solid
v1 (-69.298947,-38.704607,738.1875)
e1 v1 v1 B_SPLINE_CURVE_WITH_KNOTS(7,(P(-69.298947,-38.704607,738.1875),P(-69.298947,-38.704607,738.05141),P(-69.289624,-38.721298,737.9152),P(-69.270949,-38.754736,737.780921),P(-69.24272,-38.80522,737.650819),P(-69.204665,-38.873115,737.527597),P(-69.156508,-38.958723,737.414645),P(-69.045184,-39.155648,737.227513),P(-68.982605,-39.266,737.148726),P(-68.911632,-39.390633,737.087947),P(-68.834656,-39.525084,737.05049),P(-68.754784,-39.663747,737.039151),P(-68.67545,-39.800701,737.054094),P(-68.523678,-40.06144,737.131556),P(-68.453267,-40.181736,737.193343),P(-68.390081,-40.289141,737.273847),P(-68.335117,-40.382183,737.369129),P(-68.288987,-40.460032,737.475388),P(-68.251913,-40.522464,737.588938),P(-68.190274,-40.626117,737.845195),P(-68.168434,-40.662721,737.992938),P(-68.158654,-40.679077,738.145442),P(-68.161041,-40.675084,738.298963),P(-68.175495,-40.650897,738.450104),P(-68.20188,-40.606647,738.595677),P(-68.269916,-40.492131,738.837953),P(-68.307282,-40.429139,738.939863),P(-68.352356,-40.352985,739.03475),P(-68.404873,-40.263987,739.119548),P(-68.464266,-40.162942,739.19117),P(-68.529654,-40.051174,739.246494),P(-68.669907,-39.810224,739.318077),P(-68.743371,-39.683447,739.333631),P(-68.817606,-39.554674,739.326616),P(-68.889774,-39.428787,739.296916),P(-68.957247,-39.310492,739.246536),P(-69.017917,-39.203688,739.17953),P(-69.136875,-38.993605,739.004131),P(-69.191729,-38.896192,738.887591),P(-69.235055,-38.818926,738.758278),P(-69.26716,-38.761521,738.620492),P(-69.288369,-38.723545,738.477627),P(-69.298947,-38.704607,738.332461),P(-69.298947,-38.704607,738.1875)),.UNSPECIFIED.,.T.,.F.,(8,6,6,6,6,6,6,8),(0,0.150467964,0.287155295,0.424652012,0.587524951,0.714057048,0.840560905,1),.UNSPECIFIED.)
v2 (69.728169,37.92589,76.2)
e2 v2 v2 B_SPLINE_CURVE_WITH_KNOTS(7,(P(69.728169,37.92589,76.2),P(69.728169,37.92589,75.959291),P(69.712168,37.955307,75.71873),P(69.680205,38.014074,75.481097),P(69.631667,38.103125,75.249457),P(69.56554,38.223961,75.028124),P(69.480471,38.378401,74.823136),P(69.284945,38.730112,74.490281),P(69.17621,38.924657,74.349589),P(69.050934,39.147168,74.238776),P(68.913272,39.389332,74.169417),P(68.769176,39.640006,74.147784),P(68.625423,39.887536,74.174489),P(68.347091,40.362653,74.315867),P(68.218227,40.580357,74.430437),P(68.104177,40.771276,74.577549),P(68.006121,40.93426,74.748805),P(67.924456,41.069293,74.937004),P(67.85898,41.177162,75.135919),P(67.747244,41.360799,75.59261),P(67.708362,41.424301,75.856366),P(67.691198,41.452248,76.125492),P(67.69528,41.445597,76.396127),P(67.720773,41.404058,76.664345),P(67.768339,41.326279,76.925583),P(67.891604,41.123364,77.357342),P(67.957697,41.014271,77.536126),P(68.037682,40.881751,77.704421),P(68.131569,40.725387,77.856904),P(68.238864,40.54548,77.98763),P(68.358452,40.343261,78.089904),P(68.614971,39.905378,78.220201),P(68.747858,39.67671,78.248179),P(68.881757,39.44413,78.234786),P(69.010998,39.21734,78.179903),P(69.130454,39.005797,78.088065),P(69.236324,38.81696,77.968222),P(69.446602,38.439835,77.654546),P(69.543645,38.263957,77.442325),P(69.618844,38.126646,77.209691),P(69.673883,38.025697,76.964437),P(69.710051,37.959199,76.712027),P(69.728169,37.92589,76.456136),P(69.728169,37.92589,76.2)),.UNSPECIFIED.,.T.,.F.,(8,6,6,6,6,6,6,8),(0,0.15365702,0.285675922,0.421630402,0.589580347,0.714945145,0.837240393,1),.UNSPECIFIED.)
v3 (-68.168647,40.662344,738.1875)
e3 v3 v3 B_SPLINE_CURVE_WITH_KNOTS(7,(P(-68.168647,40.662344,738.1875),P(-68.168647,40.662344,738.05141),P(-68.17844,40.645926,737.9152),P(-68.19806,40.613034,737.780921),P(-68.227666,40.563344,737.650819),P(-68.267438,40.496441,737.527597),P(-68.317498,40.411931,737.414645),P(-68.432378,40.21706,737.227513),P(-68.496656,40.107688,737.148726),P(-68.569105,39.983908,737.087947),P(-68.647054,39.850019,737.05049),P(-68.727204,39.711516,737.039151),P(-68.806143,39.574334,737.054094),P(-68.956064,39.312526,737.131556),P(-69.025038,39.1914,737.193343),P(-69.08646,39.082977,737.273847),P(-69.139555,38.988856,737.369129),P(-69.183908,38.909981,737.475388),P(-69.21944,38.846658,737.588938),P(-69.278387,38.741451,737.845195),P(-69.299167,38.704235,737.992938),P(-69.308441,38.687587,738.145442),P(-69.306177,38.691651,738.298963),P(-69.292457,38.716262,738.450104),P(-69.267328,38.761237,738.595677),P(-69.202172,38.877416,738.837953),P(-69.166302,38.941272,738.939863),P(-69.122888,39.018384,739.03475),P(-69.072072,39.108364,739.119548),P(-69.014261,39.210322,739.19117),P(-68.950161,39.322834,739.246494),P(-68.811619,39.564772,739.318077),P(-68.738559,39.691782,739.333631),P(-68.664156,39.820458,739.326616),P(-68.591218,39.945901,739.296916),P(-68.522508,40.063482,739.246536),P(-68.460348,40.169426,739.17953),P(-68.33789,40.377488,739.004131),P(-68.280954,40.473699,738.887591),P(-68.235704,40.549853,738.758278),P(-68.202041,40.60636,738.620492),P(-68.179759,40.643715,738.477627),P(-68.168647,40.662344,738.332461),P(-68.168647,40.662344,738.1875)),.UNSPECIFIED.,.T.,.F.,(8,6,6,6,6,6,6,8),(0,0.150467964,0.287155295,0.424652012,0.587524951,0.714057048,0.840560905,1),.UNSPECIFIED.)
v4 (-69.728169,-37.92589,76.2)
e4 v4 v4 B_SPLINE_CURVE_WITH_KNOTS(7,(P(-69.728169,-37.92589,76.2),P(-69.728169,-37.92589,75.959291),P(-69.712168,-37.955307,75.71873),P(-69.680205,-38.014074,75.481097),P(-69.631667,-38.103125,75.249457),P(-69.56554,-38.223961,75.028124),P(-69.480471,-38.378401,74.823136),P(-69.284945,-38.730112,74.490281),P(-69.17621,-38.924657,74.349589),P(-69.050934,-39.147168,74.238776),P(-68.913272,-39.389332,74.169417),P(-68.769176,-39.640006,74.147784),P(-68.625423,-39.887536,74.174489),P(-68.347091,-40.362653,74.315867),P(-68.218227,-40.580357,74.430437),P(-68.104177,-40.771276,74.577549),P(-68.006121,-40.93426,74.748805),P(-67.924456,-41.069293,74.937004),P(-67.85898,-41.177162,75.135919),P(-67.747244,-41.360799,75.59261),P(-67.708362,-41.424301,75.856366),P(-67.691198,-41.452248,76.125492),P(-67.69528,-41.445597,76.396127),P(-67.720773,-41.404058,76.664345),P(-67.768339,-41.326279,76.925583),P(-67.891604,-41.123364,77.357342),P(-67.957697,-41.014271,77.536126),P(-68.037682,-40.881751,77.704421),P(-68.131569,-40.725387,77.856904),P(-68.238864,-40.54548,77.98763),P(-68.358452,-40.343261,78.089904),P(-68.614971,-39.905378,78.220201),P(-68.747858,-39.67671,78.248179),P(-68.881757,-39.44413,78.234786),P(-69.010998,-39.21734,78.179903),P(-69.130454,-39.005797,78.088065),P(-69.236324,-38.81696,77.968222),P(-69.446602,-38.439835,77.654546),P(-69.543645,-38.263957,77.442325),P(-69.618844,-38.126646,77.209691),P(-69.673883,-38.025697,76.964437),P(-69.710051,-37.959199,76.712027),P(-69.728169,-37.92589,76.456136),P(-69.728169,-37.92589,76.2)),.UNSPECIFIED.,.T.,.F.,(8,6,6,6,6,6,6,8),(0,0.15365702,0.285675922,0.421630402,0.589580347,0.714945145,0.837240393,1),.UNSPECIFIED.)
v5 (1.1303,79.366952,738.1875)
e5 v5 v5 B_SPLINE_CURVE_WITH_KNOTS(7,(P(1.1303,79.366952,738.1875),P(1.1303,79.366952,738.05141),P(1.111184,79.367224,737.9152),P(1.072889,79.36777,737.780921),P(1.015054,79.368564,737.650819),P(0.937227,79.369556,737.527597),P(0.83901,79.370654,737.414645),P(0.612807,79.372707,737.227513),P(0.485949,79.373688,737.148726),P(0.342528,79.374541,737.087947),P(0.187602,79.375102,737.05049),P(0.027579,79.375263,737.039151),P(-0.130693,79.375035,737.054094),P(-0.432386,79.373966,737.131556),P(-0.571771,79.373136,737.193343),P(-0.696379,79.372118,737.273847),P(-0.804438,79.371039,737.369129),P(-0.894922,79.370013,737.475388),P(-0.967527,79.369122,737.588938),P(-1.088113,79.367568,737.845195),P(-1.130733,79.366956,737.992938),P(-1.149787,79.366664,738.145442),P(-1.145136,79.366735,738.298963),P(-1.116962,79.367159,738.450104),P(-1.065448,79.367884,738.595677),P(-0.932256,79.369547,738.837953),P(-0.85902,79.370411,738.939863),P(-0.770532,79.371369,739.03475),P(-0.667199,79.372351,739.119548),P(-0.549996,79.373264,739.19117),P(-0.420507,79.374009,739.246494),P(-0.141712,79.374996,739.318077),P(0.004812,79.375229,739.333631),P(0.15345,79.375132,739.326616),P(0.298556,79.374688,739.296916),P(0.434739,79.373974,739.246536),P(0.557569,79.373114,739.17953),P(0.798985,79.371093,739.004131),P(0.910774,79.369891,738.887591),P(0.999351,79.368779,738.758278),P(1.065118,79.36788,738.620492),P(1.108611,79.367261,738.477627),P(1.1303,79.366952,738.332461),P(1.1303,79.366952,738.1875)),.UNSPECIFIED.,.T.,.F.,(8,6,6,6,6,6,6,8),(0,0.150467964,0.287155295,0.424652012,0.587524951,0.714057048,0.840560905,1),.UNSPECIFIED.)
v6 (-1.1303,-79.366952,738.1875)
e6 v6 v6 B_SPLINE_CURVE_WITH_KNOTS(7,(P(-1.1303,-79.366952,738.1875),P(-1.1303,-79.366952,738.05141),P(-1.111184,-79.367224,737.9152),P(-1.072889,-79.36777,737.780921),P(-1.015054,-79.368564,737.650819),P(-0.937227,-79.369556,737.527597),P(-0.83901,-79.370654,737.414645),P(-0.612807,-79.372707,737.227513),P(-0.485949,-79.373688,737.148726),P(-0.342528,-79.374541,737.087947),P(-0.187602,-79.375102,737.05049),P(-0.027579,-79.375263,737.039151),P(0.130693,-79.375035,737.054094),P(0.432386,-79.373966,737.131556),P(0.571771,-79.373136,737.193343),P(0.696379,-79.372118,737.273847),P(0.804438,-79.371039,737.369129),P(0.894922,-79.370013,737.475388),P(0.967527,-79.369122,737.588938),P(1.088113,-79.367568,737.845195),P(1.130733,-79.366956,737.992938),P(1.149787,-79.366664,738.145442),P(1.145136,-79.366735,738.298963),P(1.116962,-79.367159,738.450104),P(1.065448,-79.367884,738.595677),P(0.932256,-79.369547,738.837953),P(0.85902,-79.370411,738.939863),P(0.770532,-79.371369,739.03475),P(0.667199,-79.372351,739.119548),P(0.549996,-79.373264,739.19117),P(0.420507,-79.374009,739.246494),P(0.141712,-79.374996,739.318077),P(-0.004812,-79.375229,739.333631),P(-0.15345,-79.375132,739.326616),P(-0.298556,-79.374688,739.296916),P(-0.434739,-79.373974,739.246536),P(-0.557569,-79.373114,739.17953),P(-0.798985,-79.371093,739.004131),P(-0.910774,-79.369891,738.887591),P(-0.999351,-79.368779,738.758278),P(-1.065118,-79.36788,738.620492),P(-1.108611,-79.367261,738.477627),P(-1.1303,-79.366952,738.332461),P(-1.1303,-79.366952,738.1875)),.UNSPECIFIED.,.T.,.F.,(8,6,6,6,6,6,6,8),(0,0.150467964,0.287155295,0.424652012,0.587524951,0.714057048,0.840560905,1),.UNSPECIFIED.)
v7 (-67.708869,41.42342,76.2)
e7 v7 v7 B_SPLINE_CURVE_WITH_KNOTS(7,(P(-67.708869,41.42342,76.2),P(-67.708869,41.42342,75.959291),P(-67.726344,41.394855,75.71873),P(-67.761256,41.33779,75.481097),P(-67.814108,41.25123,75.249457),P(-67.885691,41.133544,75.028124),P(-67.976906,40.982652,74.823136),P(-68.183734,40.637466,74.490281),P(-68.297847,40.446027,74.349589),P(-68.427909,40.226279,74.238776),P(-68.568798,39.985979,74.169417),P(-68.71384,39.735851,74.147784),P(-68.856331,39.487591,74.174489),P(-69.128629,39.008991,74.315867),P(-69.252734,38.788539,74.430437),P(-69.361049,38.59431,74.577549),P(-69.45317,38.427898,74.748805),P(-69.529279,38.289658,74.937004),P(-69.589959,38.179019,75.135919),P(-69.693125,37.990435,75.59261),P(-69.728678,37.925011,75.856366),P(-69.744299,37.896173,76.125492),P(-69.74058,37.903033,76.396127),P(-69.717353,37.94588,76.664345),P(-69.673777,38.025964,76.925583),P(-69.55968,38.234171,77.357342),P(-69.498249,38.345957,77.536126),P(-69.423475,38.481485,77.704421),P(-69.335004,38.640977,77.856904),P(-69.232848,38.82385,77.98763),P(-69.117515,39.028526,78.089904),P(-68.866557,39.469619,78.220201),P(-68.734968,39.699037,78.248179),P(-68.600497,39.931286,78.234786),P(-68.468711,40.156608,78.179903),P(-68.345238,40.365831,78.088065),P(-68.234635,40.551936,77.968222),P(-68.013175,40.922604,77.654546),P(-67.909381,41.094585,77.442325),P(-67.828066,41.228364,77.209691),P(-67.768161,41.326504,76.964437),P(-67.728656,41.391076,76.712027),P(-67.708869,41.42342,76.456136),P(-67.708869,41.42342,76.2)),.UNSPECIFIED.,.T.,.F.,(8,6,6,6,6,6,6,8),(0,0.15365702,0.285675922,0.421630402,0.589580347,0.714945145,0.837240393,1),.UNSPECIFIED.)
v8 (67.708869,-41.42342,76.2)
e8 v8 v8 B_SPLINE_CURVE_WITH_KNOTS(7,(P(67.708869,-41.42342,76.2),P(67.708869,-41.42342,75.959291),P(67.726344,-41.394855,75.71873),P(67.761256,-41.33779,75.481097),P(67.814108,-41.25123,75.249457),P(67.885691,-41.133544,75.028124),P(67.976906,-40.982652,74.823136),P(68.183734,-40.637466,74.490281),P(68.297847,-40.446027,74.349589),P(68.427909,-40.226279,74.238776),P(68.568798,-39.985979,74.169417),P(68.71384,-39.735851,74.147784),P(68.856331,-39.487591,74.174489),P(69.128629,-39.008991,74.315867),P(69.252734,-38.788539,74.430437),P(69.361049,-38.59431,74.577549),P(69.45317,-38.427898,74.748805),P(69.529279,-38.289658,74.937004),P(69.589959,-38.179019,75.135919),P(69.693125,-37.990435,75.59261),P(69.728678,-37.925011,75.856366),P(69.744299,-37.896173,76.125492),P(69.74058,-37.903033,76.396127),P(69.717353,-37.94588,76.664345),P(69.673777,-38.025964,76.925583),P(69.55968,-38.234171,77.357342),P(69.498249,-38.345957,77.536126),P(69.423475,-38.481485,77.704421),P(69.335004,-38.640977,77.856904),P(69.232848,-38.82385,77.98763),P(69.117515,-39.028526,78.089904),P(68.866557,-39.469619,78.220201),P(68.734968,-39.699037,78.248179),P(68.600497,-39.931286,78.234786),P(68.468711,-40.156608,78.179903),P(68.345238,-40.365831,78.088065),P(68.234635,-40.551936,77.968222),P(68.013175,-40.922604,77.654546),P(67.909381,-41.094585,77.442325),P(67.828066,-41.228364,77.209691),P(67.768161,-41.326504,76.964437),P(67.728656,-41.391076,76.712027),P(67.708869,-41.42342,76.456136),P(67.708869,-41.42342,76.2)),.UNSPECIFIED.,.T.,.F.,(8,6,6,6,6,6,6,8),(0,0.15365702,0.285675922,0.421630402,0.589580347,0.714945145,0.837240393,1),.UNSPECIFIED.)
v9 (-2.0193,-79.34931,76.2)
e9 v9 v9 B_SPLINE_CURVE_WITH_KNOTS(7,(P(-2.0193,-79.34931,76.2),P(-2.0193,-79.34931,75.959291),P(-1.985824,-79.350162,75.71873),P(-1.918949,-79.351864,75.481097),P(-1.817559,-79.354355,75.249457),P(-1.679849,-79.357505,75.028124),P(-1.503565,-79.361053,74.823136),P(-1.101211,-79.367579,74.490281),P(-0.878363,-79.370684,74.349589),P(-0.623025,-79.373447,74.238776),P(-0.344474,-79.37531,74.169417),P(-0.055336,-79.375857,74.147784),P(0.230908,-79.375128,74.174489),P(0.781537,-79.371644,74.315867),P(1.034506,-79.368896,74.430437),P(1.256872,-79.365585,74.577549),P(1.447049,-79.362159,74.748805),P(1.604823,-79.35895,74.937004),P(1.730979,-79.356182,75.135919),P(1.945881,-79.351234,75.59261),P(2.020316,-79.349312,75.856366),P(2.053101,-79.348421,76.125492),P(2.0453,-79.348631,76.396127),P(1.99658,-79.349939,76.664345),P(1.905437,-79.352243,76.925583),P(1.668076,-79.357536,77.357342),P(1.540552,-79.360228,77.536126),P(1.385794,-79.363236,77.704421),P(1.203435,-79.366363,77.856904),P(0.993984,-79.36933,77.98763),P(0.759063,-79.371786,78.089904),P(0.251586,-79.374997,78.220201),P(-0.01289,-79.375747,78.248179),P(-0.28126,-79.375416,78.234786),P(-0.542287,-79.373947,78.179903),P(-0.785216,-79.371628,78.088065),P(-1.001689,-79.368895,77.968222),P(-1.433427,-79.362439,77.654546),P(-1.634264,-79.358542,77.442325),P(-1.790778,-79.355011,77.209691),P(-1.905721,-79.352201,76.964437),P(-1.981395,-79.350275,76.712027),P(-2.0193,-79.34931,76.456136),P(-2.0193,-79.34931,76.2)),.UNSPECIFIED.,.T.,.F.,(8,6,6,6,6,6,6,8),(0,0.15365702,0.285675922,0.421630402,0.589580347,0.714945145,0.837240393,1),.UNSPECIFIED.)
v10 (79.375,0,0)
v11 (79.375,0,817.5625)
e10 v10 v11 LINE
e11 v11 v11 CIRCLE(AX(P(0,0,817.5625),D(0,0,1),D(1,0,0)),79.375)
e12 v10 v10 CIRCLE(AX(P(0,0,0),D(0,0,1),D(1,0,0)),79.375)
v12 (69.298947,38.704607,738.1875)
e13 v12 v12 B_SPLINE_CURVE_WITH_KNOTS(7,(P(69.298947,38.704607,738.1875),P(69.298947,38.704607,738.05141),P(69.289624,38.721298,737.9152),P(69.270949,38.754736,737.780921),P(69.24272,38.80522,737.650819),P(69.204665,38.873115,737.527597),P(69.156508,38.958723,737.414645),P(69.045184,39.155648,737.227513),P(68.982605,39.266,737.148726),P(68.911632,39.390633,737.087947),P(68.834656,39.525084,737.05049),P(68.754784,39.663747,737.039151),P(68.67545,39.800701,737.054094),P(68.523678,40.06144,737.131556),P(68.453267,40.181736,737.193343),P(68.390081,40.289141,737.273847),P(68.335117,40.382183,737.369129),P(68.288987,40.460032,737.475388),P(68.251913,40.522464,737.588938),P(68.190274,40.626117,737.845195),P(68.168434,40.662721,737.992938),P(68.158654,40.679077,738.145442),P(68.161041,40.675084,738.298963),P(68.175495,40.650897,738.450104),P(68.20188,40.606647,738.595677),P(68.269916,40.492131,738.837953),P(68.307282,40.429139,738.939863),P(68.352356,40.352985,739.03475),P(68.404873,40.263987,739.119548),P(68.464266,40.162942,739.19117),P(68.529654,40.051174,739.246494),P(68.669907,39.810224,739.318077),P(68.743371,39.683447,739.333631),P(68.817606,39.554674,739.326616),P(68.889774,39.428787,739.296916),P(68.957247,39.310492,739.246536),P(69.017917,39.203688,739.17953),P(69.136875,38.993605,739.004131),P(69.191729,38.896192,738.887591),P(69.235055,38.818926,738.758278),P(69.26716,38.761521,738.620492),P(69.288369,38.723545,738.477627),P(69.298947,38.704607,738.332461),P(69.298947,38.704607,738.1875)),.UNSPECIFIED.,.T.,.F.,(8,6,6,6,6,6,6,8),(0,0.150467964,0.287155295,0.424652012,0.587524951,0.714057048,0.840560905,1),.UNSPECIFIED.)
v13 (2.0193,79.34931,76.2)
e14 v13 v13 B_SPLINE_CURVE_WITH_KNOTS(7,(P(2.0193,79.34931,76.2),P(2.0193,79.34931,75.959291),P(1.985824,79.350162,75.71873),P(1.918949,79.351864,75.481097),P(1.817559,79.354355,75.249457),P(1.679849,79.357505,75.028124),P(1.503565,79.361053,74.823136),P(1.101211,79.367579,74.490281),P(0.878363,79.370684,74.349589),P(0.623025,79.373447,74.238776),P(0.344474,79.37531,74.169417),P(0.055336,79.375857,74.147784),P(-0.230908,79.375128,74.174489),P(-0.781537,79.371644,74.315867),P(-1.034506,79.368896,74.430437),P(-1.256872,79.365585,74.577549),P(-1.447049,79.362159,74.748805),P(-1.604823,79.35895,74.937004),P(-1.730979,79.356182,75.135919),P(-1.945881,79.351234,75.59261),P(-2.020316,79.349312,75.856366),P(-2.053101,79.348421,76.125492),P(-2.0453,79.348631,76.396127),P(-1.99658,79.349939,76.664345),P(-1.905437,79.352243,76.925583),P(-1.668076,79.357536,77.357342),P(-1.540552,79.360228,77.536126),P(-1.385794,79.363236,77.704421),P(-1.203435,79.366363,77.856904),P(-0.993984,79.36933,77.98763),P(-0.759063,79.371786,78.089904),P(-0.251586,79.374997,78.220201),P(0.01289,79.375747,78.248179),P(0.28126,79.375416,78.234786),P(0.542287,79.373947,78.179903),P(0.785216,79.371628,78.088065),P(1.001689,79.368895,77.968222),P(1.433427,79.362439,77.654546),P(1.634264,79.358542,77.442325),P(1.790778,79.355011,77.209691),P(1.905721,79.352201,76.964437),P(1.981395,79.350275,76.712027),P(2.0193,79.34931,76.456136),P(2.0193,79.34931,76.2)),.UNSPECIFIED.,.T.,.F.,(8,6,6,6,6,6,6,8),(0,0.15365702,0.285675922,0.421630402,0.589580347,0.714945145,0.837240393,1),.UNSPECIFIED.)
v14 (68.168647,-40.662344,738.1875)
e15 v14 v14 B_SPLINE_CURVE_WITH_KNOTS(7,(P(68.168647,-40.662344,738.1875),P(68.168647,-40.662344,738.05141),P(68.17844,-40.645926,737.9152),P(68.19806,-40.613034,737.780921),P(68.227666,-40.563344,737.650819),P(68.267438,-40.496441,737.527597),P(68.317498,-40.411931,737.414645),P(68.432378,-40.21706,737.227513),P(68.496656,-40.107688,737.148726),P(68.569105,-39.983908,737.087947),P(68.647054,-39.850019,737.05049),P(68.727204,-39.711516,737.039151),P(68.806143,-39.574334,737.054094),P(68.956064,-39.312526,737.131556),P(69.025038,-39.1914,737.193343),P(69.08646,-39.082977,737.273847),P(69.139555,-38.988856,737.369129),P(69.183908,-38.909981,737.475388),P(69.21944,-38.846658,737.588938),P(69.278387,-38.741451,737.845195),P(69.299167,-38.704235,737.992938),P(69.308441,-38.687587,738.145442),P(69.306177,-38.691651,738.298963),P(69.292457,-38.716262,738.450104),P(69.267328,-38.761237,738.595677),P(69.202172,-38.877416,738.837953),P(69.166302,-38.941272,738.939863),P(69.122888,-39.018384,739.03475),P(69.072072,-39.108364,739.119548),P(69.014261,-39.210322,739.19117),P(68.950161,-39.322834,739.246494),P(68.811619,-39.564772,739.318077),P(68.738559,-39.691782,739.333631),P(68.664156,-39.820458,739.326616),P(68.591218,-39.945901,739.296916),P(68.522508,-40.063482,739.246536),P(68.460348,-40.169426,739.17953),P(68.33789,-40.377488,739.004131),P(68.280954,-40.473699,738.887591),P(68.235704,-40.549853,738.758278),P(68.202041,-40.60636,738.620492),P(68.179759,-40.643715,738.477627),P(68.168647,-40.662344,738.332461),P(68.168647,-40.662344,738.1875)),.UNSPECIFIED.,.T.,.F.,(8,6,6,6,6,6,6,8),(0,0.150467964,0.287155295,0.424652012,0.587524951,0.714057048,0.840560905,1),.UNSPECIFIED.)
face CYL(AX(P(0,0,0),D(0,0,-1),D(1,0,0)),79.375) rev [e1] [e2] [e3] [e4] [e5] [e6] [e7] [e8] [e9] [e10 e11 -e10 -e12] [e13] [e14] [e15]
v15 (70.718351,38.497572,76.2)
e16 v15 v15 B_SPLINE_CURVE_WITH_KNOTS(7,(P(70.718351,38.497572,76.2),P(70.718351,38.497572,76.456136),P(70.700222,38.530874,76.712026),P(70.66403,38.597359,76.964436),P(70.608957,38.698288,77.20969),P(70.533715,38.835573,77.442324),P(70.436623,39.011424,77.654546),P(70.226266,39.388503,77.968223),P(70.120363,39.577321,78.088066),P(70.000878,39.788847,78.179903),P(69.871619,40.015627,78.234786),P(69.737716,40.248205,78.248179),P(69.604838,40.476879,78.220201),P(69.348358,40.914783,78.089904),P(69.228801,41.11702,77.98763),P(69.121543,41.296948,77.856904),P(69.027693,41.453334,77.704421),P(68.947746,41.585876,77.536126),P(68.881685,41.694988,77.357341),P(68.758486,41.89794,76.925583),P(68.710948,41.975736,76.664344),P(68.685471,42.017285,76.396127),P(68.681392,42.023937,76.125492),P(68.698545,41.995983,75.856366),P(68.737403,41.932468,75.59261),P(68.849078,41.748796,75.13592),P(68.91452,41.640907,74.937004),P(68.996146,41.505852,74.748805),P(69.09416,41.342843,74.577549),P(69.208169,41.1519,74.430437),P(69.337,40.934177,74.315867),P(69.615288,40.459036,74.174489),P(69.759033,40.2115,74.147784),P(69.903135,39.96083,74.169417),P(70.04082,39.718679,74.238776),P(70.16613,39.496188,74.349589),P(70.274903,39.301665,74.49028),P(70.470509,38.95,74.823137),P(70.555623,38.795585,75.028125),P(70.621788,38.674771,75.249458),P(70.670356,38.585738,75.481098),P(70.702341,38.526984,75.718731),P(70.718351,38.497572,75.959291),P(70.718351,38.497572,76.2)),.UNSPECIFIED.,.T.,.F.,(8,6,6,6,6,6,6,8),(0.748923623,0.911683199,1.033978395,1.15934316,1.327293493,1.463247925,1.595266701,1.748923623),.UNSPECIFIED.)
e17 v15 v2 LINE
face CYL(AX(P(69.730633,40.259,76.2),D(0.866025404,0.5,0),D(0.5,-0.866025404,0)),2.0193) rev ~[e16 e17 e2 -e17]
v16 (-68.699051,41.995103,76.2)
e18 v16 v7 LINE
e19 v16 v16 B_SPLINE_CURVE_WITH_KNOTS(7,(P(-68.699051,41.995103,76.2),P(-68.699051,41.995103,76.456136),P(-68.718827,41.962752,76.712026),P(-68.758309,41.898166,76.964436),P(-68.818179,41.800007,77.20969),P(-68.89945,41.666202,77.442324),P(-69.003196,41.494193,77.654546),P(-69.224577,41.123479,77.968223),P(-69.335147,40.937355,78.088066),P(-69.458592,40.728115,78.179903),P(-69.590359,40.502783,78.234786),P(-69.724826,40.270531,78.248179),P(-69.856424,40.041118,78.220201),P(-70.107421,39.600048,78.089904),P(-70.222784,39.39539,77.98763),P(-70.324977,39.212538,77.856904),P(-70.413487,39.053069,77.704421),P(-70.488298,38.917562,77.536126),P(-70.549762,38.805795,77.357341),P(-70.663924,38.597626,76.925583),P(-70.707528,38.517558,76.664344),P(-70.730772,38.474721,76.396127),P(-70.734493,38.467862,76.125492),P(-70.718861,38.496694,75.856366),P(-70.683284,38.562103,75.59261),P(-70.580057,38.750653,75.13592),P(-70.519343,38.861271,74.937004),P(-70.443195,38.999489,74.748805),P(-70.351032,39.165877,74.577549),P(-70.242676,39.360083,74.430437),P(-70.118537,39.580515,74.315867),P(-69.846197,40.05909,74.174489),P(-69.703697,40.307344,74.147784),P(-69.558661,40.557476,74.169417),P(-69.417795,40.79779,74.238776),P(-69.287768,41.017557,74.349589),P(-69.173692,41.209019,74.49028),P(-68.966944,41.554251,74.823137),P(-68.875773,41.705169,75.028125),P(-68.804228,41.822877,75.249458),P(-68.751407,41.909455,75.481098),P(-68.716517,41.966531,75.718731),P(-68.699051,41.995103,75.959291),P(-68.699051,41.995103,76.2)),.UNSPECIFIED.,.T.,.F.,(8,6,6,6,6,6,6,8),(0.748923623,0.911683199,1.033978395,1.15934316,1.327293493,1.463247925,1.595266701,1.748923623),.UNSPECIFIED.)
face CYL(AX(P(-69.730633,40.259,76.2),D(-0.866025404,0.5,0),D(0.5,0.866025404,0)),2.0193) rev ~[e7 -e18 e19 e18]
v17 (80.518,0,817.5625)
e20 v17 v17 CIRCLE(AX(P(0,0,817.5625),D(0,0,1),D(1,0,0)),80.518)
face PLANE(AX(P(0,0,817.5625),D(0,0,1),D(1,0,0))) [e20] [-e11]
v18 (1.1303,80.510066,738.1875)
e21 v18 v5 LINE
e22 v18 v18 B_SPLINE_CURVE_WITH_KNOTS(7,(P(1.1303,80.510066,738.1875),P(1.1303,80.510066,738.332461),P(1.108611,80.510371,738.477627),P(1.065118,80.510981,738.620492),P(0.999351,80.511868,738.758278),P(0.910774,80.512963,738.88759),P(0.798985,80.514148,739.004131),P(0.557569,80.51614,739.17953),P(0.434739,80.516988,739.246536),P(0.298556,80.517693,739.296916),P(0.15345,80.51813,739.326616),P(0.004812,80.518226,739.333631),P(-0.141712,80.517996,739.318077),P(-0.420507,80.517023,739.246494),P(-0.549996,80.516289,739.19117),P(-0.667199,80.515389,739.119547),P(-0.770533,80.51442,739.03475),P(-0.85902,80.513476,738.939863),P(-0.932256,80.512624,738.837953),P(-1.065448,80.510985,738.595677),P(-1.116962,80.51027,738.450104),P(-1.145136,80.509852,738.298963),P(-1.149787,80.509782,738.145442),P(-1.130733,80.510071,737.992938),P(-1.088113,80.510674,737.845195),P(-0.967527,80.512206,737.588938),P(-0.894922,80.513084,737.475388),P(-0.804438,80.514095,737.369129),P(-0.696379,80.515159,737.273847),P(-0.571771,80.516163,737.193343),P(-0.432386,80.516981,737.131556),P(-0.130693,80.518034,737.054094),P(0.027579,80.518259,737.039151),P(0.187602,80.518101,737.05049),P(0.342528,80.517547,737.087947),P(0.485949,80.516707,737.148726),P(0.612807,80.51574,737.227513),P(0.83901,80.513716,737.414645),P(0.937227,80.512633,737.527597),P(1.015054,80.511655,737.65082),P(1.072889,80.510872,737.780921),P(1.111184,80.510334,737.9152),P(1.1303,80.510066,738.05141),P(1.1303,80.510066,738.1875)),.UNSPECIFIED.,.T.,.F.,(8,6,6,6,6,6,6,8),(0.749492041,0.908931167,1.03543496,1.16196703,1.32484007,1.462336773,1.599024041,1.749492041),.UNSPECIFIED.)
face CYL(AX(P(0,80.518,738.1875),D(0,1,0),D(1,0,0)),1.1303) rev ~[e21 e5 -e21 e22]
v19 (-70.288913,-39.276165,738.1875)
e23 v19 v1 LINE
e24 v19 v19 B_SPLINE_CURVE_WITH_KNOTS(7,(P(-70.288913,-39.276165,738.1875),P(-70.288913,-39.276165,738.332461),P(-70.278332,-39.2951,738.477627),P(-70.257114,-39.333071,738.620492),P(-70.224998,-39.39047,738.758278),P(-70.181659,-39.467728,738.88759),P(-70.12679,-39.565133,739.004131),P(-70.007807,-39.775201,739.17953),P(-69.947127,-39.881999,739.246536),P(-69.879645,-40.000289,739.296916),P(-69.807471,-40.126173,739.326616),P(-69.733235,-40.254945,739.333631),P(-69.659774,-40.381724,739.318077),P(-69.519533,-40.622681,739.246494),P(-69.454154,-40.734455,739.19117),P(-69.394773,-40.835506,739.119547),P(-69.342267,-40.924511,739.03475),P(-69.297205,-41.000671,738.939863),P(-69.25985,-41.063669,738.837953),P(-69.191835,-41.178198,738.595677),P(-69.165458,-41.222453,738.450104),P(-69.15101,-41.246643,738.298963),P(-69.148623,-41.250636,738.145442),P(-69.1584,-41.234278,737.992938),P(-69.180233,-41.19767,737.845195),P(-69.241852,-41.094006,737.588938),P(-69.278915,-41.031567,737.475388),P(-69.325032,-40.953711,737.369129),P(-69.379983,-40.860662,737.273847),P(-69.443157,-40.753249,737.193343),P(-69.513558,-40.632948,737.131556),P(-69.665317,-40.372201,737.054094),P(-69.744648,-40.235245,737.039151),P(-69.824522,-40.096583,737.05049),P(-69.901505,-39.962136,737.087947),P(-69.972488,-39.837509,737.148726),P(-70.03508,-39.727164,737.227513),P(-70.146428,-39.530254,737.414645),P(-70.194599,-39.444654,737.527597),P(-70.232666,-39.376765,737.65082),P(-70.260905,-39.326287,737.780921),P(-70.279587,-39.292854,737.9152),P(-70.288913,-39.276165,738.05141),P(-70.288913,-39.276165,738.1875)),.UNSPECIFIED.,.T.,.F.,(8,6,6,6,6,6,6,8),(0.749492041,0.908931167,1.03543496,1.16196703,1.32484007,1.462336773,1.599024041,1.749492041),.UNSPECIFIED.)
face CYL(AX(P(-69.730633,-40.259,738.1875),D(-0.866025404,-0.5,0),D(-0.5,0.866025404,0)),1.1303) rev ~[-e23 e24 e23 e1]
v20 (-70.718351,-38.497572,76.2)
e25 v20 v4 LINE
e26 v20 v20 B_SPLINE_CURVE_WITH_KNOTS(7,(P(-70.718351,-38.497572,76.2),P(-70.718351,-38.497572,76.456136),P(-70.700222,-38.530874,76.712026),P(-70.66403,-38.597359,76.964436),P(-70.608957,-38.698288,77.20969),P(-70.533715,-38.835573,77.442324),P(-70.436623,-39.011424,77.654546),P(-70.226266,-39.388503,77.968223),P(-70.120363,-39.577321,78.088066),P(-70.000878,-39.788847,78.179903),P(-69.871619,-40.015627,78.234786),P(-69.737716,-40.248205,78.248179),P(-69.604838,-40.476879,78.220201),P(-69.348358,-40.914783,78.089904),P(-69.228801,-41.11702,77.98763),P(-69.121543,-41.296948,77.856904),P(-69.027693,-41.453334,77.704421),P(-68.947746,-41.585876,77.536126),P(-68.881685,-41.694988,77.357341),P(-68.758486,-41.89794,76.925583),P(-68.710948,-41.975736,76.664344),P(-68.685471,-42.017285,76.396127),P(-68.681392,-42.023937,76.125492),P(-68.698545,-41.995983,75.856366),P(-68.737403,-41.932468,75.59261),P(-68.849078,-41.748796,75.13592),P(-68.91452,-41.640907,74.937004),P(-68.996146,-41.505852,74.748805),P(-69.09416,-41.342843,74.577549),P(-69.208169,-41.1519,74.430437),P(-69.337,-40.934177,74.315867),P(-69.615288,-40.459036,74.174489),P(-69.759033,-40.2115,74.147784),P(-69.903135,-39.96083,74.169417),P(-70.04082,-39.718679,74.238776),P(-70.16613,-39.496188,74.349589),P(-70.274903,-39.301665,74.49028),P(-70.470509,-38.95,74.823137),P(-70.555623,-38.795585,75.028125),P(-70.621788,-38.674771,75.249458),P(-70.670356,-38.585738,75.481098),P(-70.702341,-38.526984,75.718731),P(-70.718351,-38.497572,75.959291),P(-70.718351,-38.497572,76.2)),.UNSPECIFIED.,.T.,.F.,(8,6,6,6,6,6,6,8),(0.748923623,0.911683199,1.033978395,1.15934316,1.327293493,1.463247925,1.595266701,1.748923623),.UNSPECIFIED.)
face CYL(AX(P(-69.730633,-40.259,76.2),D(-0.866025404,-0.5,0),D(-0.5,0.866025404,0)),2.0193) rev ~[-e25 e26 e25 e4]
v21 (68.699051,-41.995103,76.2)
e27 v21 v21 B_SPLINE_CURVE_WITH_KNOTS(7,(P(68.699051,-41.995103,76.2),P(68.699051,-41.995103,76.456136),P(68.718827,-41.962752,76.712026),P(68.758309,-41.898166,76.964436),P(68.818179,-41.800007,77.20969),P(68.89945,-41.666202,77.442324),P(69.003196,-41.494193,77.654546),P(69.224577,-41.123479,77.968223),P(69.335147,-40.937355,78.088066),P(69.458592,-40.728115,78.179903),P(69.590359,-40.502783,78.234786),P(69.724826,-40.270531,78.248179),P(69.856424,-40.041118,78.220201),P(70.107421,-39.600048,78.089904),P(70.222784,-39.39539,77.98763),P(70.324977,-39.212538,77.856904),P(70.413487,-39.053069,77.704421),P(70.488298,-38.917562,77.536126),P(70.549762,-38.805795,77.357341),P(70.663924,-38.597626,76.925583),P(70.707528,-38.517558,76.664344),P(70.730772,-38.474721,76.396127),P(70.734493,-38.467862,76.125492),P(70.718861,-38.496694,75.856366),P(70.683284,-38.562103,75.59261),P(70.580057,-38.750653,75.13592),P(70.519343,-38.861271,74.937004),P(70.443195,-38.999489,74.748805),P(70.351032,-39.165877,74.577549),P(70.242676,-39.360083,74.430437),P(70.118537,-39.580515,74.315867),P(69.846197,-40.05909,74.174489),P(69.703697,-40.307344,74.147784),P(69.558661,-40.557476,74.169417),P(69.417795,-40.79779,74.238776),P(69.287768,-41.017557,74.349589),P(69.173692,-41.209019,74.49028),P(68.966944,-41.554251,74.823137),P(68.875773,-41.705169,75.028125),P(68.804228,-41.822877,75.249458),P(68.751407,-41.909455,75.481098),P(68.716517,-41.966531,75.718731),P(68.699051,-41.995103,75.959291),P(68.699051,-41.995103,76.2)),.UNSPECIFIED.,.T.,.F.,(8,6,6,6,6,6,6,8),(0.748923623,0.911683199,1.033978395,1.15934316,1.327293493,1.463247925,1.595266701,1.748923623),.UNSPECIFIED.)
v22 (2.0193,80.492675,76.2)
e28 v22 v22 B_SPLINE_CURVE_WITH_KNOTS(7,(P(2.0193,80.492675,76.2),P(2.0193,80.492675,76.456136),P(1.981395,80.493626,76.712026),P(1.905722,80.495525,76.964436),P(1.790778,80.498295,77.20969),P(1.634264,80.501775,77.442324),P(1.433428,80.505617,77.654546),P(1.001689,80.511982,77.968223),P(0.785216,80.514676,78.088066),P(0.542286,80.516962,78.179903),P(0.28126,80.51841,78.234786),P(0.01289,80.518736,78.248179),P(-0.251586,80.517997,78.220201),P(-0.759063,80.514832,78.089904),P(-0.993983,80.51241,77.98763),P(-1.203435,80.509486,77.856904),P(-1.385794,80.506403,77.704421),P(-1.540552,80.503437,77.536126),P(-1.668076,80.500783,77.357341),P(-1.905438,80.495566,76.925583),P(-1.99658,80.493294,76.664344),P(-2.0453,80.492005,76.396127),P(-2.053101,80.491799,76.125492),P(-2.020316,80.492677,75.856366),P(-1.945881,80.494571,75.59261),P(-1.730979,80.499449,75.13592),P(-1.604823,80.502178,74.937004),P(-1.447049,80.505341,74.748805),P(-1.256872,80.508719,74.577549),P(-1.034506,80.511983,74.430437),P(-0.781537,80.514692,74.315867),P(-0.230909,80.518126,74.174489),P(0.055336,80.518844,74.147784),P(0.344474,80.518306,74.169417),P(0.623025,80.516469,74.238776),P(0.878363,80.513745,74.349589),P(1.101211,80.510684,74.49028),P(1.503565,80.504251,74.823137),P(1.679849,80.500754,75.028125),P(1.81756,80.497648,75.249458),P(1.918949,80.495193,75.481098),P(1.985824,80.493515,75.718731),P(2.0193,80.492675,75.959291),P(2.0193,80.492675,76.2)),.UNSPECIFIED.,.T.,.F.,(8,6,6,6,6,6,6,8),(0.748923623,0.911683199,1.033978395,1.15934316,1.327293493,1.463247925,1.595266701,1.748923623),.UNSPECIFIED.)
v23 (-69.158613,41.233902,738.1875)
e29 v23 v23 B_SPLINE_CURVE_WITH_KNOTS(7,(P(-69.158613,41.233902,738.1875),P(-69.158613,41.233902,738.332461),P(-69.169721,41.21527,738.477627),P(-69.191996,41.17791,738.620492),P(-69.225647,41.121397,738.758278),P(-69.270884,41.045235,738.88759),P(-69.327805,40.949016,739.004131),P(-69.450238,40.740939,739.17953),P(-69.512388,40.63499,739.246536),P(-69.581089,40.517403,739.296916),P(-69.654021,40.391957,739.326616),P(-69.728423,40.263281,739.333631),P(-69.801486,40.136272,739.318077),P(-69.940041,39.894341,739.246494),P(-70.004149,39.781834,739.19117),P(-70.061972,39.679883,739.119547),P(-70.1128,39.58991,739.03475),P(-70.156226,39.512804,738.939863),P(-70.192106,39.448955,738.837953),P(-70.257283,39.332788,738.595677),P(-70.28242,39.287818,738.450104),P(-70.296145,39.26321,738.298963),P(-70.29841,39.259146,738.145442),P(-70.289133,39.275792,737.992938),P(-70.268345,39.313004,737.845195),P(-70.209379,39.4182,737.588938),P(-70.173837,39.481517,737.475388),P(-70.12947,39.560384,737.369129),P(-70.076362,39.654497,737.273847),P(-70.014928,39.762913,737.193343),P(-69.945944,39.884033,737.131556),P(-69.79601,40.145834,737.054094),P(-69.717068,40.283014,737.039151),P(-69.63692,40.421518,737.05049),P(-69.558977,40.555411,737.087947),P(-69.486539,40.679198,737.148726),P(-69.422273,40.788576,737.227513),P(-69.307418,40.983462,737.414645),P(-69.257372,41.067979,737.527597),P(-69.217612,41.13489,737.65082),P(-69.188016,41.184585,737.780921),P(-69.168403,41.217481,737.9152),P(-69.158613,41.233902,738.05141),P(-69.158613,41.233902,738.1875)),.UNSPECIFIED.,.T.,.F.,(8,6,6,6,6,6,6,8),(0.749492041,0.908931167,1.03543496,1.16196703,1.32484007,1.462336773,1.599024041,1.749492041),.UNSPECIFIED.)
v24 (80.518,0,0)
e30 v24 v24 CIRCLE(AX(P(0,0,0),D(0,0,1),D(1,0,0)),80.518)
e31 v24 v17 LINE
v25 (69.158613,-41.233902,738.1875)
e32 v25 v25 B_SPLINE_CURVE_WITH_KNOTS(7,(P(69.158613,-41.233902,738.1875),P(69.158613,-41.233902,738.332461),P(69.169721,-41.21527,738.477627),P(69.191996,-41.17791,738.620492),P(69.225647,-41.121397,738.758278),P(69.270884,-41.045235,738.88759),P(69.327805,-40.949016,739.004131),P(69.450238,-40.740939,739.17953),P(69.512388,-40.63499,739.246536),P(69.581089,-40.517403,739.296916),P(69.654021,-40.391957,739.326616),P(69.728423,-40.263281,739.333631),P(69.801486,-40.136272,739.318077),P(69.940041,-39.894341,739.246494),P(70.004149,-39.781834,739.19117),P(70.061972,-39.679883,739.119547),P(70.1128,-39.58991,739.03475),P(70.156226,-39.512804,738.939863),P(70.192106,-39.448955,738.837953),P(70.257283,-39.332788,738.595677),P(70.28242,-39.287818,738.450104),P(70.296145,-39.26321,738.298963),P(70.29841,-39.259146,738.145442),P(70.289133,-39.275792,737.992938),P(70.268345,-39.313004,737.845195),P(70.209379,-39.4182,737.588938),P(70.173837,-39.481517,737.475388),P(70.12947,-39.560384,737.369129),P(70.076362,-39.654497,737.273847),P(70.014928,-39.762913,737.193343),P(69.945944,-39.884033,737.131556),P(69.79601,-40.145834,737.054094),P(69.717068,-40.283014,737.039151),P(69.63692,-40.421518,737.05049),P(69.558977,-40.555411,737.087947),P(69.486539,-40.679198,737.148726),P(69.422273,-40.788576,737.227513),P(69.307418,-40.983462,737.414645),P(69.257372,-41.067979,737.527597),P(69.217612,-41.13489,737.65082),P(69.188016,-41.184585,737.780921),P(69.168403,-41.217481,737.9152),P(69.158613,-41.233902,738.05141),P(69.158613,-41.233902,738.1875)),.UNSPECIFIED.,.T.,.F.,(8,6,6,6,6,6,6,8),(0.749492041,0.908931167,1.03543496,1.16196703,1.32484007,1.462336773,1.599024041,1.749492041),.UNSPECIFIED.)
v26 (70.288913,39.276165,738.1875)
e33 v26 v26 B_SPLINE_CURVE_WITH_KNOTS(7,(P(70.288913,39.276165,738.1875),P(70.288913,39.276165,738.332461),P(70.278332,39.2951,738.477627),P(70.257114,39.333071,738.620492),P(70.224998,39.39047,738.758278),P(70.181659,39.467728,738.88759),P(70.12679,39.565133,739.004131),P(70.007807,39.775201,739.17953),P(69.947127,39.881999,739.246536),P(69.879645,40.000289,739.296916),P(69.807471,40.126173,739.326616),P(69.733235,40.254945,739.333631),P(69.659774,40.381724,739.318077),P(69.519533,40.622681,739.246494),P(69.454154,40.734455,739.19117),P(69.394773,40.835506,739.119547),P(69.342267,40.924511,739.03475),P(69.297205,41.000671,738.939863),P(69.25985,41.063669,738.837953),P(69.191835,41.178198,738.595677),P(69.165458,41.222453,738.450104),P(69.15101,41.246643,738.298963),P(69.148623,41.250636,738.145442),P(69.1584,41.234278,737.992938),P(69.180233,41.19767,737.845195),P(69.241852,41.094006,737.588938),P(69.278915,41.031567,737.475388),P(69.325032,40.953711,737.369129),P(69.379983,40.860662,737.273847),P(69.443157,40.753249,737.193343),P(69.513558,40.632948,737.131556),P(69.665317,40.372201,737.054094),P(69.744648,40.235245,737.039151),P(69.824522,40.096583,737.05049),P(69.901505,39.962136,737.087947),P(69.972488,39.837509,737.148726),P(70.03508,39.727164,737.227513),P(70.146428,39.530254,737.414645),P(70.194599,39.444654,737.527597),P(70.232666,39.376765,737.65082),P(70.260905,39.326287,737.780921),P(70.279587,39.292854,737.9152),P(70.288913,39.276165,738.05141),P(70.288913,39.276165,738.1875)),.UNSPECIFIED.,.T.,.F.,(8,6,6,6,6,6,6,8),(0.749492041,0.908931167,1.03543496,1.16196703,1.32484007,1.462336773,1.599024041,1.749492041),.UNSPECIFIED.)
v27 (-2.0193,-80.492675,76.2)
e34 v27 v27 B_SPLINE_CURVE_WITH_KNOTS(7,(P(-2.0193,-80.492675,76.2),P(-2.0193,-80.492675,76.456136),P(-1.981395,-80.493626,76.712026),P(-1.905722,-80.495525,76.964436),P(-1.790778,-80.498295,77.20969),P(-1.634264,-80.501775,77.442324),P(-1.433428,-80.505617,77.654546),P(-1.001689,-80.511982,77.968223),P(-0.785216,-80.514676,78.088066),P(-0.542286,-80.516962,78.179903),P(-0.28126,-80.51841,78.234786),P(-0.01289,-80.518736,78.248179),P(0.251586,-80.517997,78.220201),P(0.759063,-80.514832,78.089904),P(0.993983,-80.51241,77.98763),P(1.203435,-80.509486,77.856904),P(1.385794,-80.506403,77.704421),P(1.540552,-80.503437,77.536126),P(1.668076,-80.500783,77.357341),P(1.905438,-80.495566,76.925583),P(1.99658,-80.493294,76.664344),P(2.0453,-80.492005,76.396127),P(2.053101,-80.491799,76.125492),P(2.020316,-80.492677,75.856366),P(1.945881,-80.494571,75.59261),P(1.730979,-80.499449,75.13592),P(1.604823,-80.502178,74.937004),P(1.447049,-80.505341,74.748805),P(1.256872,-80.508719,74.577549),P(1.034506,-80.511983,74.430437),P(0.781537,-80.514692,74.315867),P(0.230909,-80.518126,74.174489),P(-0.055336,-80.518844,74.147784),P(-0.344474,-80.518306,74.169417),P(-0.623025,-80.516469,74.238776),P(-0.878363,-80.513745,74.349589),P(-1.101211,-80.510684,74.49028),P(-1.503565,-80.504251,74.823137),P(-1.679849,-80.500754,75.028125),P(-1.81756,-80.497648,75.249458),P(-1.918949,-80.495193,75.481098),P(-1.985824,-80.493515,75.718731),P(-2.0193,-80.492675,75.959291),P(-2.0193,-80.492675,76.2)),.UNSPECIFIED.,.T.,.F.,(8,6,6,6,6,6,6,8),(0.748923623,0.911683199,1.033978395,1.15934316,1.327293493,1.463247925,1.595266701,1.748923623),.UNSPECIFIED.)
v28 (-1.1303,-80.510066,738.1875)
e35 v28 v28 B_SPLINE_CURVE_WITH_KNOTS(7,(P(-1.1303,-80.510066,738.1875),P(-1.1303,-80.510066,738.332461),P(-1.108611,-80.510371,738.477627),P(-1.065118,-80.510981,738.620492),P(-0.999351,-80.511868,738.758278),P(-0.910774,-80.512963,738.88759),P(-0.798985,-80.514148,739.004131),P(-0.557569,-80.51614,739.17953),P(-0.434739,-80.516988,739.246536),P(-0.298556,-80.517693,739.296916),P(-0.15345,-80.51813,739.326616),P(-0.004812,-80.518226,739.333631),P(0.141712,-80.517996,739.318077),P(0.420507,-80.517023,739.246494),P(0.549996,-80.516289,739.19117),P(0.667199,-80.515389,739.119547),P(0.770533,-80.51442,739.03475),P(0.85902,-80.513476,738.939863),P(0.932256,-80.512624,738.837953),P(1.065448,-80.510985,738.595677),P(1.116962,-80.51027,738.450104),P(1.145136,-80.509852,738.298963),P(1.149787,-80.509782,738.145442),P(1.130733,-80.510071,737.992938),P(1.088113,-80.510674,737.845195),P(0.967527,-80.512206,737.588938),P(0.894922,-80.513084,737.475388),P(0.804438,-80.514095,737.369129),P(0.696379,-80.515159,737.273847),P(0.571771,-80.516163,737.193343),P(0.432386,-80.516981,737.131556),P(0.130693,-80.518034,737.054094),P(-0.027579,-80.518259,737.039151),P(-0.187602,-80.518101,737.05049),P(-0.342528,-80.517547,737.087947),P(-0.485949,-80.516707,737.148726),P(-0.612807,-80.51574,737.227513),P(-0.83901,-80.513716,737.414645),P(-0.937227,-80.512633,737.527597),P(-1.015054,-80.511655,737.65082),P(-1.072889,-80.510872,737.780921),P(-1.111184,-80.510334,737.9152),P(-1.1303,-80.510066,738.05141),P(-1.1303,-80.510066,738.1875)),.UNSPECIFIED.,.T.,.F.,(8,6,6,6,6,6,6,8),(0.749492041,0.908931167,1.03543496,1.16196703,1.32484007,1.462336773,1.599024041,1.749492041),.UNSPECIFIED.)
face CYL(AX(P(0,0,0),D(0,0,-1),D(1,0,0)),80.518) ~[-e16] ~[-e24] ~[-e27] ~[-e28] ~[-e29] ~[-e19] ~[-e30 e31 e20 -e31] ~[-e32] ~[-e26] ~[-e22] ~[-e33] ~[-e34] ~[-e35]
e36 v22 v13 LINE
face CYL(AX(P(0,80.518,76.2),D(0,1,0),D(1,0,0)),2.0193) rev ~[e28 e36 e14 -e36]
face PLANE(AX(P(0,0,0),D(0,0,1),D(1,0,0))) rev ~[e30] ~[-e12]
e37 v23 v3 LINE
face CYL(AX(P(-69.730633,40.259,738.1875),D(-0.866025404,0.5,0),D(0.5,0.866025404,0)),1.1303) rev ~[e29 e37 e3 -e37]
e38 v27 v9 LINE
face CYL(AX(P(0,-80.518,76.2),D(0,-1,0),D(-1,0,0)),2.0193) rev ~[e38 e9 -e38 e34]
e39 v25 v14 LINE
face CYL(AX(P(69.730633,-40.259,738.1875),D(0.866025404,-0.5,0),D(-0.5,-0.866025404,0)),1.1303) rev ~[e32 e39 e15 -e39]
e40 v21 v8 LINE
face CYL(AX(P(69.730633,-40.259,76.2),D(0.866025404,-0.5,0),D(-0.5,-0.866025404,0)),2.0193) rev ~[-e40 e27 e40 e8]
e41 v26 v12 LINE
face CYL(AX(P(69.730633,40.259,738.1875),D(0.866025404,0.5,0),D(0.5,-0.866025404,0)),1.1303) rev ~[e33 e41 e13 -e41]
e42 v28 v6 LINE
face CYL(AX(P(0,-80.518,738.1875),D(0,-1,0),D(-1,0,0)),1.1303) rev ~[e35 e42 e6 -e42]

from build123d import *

# Parameters (mm, degrees)
SKETCH1_R                       = 80.518
SKETCH1_R_2                     = 79.375
BOSS_EXTRUDE1_DEPTH             = 817.5625
TAP_DRILL_FOR_10_32_TAP1_REACH  = 839.152
TAP_DRILL_FOR_10_32_TAP1_BORE_R = 2.0193
TAP_DRILL_FOR_4_40_TAP1_REACH   = 839.152
TAP_DRILL_FOR_4_40_TAP1_BORE_R  = 1.1303
CIRPATTERN1_COUNT               = 6


with BuildPart() as part:
    # Sketch1 → Boss-Extrude1 (new body)
    with BuildSketch(Plane.XY):
        Circle(SKETCH1_R)
        Circle(SKETCH1_R_2, mode=Mode.SUBTRACT)
    extrude(amount=BOSS_EXTRUDE1_DEPTH)

    # Tap Drill for #10-32 Tap1 bore → Tap Drill for #10-32 Tap1 (cut, up to next)
    with BuildSketch(Plane(origin=(0, 80.518, 0), x_dir=(1, 0, 0), z_dir=(0, 1, 0)), mode=Mode.PRIVATE) as tap_drill_for_10_32_tap1_sk1:
        with Locations((0, -76.2)):
            Circle(TAP_DRILL_FOR_10_32_TAP1_BORE_R)
    tap_drill_for_10_32_tap1_tool1 = extrude(tap_drill_for_10_32_tap1_sk1.sketch, amount=-TAP_DRILL_FOR_10_32_TAP1_REACH, mode=Mode.PRIVATE) & part.part
    tap_drill_for_10_32_tap1 = tap_drill_for_10_32_tap1_tool1.solids().sort_by_distance((0, 80.518, 76.2))[0]
    add(tap_drill_for_10_32_tap1, mode=Mode.SUBTRACT)

    # Tap Drill for #4-40 Tap1 bore → Tap Drill for #4-40 Tap1 (cut, up to next)
    with BuildSketch(Plane(origin=(0, 80.518, 0), x_dir=(1, 0, 0), z_dir=(0, 1, 0)), mode=Mode.PRIVATE) as tap_drill_for_4_40_tap1_sk1:
        with Locations((0, -738.1875)):
            Circle(TAP_DRILL_FOR_4_40_TAP1_BORE_R)
    tap_drill_for_4_40_tap1_tool1 = extrude(tap_drill_for_4_40_tap1_sk1.sketch, amount=-TAP_DRILL_FOR_4_40_TAP1_REACH, mode=Mode.PRIVATE) & part.part
    tap_drill_for_4_40_tap1 = tap_drill_for_4_40_tap1_tool1.solids().sort_by_distance((0, 80.518, 738.1875))[0]
    add(tap_drill_for_4_40_tap1, mode=Mode.SUBTRACT)

    # CirPattern1: Tap Drill for #10-32 Tap1, Tap Drill for #4-40 Tap1 ×6 about axis
    cirpattern1_axis = Axis((0, 0, 817.5625), (0, 0, 1))
    add([tap_drill_for_10_32_tap1.rotate(cirpattern1_axis, i * 360 / CIRPATTERN1_COUNT) for i in range(1, CIRPATTERN1_COUNT)], mode=Mode.SUBTRACT)
    add([tap_drill_for_4_40_tap1.rotate(cirpattern1_axis, i * 360 / CIRPATTERN1_COUNT) for i in range(1, CIRPATTERN1_COUNT)], mode=Mode.SUBTRACT)


solid = part.part
